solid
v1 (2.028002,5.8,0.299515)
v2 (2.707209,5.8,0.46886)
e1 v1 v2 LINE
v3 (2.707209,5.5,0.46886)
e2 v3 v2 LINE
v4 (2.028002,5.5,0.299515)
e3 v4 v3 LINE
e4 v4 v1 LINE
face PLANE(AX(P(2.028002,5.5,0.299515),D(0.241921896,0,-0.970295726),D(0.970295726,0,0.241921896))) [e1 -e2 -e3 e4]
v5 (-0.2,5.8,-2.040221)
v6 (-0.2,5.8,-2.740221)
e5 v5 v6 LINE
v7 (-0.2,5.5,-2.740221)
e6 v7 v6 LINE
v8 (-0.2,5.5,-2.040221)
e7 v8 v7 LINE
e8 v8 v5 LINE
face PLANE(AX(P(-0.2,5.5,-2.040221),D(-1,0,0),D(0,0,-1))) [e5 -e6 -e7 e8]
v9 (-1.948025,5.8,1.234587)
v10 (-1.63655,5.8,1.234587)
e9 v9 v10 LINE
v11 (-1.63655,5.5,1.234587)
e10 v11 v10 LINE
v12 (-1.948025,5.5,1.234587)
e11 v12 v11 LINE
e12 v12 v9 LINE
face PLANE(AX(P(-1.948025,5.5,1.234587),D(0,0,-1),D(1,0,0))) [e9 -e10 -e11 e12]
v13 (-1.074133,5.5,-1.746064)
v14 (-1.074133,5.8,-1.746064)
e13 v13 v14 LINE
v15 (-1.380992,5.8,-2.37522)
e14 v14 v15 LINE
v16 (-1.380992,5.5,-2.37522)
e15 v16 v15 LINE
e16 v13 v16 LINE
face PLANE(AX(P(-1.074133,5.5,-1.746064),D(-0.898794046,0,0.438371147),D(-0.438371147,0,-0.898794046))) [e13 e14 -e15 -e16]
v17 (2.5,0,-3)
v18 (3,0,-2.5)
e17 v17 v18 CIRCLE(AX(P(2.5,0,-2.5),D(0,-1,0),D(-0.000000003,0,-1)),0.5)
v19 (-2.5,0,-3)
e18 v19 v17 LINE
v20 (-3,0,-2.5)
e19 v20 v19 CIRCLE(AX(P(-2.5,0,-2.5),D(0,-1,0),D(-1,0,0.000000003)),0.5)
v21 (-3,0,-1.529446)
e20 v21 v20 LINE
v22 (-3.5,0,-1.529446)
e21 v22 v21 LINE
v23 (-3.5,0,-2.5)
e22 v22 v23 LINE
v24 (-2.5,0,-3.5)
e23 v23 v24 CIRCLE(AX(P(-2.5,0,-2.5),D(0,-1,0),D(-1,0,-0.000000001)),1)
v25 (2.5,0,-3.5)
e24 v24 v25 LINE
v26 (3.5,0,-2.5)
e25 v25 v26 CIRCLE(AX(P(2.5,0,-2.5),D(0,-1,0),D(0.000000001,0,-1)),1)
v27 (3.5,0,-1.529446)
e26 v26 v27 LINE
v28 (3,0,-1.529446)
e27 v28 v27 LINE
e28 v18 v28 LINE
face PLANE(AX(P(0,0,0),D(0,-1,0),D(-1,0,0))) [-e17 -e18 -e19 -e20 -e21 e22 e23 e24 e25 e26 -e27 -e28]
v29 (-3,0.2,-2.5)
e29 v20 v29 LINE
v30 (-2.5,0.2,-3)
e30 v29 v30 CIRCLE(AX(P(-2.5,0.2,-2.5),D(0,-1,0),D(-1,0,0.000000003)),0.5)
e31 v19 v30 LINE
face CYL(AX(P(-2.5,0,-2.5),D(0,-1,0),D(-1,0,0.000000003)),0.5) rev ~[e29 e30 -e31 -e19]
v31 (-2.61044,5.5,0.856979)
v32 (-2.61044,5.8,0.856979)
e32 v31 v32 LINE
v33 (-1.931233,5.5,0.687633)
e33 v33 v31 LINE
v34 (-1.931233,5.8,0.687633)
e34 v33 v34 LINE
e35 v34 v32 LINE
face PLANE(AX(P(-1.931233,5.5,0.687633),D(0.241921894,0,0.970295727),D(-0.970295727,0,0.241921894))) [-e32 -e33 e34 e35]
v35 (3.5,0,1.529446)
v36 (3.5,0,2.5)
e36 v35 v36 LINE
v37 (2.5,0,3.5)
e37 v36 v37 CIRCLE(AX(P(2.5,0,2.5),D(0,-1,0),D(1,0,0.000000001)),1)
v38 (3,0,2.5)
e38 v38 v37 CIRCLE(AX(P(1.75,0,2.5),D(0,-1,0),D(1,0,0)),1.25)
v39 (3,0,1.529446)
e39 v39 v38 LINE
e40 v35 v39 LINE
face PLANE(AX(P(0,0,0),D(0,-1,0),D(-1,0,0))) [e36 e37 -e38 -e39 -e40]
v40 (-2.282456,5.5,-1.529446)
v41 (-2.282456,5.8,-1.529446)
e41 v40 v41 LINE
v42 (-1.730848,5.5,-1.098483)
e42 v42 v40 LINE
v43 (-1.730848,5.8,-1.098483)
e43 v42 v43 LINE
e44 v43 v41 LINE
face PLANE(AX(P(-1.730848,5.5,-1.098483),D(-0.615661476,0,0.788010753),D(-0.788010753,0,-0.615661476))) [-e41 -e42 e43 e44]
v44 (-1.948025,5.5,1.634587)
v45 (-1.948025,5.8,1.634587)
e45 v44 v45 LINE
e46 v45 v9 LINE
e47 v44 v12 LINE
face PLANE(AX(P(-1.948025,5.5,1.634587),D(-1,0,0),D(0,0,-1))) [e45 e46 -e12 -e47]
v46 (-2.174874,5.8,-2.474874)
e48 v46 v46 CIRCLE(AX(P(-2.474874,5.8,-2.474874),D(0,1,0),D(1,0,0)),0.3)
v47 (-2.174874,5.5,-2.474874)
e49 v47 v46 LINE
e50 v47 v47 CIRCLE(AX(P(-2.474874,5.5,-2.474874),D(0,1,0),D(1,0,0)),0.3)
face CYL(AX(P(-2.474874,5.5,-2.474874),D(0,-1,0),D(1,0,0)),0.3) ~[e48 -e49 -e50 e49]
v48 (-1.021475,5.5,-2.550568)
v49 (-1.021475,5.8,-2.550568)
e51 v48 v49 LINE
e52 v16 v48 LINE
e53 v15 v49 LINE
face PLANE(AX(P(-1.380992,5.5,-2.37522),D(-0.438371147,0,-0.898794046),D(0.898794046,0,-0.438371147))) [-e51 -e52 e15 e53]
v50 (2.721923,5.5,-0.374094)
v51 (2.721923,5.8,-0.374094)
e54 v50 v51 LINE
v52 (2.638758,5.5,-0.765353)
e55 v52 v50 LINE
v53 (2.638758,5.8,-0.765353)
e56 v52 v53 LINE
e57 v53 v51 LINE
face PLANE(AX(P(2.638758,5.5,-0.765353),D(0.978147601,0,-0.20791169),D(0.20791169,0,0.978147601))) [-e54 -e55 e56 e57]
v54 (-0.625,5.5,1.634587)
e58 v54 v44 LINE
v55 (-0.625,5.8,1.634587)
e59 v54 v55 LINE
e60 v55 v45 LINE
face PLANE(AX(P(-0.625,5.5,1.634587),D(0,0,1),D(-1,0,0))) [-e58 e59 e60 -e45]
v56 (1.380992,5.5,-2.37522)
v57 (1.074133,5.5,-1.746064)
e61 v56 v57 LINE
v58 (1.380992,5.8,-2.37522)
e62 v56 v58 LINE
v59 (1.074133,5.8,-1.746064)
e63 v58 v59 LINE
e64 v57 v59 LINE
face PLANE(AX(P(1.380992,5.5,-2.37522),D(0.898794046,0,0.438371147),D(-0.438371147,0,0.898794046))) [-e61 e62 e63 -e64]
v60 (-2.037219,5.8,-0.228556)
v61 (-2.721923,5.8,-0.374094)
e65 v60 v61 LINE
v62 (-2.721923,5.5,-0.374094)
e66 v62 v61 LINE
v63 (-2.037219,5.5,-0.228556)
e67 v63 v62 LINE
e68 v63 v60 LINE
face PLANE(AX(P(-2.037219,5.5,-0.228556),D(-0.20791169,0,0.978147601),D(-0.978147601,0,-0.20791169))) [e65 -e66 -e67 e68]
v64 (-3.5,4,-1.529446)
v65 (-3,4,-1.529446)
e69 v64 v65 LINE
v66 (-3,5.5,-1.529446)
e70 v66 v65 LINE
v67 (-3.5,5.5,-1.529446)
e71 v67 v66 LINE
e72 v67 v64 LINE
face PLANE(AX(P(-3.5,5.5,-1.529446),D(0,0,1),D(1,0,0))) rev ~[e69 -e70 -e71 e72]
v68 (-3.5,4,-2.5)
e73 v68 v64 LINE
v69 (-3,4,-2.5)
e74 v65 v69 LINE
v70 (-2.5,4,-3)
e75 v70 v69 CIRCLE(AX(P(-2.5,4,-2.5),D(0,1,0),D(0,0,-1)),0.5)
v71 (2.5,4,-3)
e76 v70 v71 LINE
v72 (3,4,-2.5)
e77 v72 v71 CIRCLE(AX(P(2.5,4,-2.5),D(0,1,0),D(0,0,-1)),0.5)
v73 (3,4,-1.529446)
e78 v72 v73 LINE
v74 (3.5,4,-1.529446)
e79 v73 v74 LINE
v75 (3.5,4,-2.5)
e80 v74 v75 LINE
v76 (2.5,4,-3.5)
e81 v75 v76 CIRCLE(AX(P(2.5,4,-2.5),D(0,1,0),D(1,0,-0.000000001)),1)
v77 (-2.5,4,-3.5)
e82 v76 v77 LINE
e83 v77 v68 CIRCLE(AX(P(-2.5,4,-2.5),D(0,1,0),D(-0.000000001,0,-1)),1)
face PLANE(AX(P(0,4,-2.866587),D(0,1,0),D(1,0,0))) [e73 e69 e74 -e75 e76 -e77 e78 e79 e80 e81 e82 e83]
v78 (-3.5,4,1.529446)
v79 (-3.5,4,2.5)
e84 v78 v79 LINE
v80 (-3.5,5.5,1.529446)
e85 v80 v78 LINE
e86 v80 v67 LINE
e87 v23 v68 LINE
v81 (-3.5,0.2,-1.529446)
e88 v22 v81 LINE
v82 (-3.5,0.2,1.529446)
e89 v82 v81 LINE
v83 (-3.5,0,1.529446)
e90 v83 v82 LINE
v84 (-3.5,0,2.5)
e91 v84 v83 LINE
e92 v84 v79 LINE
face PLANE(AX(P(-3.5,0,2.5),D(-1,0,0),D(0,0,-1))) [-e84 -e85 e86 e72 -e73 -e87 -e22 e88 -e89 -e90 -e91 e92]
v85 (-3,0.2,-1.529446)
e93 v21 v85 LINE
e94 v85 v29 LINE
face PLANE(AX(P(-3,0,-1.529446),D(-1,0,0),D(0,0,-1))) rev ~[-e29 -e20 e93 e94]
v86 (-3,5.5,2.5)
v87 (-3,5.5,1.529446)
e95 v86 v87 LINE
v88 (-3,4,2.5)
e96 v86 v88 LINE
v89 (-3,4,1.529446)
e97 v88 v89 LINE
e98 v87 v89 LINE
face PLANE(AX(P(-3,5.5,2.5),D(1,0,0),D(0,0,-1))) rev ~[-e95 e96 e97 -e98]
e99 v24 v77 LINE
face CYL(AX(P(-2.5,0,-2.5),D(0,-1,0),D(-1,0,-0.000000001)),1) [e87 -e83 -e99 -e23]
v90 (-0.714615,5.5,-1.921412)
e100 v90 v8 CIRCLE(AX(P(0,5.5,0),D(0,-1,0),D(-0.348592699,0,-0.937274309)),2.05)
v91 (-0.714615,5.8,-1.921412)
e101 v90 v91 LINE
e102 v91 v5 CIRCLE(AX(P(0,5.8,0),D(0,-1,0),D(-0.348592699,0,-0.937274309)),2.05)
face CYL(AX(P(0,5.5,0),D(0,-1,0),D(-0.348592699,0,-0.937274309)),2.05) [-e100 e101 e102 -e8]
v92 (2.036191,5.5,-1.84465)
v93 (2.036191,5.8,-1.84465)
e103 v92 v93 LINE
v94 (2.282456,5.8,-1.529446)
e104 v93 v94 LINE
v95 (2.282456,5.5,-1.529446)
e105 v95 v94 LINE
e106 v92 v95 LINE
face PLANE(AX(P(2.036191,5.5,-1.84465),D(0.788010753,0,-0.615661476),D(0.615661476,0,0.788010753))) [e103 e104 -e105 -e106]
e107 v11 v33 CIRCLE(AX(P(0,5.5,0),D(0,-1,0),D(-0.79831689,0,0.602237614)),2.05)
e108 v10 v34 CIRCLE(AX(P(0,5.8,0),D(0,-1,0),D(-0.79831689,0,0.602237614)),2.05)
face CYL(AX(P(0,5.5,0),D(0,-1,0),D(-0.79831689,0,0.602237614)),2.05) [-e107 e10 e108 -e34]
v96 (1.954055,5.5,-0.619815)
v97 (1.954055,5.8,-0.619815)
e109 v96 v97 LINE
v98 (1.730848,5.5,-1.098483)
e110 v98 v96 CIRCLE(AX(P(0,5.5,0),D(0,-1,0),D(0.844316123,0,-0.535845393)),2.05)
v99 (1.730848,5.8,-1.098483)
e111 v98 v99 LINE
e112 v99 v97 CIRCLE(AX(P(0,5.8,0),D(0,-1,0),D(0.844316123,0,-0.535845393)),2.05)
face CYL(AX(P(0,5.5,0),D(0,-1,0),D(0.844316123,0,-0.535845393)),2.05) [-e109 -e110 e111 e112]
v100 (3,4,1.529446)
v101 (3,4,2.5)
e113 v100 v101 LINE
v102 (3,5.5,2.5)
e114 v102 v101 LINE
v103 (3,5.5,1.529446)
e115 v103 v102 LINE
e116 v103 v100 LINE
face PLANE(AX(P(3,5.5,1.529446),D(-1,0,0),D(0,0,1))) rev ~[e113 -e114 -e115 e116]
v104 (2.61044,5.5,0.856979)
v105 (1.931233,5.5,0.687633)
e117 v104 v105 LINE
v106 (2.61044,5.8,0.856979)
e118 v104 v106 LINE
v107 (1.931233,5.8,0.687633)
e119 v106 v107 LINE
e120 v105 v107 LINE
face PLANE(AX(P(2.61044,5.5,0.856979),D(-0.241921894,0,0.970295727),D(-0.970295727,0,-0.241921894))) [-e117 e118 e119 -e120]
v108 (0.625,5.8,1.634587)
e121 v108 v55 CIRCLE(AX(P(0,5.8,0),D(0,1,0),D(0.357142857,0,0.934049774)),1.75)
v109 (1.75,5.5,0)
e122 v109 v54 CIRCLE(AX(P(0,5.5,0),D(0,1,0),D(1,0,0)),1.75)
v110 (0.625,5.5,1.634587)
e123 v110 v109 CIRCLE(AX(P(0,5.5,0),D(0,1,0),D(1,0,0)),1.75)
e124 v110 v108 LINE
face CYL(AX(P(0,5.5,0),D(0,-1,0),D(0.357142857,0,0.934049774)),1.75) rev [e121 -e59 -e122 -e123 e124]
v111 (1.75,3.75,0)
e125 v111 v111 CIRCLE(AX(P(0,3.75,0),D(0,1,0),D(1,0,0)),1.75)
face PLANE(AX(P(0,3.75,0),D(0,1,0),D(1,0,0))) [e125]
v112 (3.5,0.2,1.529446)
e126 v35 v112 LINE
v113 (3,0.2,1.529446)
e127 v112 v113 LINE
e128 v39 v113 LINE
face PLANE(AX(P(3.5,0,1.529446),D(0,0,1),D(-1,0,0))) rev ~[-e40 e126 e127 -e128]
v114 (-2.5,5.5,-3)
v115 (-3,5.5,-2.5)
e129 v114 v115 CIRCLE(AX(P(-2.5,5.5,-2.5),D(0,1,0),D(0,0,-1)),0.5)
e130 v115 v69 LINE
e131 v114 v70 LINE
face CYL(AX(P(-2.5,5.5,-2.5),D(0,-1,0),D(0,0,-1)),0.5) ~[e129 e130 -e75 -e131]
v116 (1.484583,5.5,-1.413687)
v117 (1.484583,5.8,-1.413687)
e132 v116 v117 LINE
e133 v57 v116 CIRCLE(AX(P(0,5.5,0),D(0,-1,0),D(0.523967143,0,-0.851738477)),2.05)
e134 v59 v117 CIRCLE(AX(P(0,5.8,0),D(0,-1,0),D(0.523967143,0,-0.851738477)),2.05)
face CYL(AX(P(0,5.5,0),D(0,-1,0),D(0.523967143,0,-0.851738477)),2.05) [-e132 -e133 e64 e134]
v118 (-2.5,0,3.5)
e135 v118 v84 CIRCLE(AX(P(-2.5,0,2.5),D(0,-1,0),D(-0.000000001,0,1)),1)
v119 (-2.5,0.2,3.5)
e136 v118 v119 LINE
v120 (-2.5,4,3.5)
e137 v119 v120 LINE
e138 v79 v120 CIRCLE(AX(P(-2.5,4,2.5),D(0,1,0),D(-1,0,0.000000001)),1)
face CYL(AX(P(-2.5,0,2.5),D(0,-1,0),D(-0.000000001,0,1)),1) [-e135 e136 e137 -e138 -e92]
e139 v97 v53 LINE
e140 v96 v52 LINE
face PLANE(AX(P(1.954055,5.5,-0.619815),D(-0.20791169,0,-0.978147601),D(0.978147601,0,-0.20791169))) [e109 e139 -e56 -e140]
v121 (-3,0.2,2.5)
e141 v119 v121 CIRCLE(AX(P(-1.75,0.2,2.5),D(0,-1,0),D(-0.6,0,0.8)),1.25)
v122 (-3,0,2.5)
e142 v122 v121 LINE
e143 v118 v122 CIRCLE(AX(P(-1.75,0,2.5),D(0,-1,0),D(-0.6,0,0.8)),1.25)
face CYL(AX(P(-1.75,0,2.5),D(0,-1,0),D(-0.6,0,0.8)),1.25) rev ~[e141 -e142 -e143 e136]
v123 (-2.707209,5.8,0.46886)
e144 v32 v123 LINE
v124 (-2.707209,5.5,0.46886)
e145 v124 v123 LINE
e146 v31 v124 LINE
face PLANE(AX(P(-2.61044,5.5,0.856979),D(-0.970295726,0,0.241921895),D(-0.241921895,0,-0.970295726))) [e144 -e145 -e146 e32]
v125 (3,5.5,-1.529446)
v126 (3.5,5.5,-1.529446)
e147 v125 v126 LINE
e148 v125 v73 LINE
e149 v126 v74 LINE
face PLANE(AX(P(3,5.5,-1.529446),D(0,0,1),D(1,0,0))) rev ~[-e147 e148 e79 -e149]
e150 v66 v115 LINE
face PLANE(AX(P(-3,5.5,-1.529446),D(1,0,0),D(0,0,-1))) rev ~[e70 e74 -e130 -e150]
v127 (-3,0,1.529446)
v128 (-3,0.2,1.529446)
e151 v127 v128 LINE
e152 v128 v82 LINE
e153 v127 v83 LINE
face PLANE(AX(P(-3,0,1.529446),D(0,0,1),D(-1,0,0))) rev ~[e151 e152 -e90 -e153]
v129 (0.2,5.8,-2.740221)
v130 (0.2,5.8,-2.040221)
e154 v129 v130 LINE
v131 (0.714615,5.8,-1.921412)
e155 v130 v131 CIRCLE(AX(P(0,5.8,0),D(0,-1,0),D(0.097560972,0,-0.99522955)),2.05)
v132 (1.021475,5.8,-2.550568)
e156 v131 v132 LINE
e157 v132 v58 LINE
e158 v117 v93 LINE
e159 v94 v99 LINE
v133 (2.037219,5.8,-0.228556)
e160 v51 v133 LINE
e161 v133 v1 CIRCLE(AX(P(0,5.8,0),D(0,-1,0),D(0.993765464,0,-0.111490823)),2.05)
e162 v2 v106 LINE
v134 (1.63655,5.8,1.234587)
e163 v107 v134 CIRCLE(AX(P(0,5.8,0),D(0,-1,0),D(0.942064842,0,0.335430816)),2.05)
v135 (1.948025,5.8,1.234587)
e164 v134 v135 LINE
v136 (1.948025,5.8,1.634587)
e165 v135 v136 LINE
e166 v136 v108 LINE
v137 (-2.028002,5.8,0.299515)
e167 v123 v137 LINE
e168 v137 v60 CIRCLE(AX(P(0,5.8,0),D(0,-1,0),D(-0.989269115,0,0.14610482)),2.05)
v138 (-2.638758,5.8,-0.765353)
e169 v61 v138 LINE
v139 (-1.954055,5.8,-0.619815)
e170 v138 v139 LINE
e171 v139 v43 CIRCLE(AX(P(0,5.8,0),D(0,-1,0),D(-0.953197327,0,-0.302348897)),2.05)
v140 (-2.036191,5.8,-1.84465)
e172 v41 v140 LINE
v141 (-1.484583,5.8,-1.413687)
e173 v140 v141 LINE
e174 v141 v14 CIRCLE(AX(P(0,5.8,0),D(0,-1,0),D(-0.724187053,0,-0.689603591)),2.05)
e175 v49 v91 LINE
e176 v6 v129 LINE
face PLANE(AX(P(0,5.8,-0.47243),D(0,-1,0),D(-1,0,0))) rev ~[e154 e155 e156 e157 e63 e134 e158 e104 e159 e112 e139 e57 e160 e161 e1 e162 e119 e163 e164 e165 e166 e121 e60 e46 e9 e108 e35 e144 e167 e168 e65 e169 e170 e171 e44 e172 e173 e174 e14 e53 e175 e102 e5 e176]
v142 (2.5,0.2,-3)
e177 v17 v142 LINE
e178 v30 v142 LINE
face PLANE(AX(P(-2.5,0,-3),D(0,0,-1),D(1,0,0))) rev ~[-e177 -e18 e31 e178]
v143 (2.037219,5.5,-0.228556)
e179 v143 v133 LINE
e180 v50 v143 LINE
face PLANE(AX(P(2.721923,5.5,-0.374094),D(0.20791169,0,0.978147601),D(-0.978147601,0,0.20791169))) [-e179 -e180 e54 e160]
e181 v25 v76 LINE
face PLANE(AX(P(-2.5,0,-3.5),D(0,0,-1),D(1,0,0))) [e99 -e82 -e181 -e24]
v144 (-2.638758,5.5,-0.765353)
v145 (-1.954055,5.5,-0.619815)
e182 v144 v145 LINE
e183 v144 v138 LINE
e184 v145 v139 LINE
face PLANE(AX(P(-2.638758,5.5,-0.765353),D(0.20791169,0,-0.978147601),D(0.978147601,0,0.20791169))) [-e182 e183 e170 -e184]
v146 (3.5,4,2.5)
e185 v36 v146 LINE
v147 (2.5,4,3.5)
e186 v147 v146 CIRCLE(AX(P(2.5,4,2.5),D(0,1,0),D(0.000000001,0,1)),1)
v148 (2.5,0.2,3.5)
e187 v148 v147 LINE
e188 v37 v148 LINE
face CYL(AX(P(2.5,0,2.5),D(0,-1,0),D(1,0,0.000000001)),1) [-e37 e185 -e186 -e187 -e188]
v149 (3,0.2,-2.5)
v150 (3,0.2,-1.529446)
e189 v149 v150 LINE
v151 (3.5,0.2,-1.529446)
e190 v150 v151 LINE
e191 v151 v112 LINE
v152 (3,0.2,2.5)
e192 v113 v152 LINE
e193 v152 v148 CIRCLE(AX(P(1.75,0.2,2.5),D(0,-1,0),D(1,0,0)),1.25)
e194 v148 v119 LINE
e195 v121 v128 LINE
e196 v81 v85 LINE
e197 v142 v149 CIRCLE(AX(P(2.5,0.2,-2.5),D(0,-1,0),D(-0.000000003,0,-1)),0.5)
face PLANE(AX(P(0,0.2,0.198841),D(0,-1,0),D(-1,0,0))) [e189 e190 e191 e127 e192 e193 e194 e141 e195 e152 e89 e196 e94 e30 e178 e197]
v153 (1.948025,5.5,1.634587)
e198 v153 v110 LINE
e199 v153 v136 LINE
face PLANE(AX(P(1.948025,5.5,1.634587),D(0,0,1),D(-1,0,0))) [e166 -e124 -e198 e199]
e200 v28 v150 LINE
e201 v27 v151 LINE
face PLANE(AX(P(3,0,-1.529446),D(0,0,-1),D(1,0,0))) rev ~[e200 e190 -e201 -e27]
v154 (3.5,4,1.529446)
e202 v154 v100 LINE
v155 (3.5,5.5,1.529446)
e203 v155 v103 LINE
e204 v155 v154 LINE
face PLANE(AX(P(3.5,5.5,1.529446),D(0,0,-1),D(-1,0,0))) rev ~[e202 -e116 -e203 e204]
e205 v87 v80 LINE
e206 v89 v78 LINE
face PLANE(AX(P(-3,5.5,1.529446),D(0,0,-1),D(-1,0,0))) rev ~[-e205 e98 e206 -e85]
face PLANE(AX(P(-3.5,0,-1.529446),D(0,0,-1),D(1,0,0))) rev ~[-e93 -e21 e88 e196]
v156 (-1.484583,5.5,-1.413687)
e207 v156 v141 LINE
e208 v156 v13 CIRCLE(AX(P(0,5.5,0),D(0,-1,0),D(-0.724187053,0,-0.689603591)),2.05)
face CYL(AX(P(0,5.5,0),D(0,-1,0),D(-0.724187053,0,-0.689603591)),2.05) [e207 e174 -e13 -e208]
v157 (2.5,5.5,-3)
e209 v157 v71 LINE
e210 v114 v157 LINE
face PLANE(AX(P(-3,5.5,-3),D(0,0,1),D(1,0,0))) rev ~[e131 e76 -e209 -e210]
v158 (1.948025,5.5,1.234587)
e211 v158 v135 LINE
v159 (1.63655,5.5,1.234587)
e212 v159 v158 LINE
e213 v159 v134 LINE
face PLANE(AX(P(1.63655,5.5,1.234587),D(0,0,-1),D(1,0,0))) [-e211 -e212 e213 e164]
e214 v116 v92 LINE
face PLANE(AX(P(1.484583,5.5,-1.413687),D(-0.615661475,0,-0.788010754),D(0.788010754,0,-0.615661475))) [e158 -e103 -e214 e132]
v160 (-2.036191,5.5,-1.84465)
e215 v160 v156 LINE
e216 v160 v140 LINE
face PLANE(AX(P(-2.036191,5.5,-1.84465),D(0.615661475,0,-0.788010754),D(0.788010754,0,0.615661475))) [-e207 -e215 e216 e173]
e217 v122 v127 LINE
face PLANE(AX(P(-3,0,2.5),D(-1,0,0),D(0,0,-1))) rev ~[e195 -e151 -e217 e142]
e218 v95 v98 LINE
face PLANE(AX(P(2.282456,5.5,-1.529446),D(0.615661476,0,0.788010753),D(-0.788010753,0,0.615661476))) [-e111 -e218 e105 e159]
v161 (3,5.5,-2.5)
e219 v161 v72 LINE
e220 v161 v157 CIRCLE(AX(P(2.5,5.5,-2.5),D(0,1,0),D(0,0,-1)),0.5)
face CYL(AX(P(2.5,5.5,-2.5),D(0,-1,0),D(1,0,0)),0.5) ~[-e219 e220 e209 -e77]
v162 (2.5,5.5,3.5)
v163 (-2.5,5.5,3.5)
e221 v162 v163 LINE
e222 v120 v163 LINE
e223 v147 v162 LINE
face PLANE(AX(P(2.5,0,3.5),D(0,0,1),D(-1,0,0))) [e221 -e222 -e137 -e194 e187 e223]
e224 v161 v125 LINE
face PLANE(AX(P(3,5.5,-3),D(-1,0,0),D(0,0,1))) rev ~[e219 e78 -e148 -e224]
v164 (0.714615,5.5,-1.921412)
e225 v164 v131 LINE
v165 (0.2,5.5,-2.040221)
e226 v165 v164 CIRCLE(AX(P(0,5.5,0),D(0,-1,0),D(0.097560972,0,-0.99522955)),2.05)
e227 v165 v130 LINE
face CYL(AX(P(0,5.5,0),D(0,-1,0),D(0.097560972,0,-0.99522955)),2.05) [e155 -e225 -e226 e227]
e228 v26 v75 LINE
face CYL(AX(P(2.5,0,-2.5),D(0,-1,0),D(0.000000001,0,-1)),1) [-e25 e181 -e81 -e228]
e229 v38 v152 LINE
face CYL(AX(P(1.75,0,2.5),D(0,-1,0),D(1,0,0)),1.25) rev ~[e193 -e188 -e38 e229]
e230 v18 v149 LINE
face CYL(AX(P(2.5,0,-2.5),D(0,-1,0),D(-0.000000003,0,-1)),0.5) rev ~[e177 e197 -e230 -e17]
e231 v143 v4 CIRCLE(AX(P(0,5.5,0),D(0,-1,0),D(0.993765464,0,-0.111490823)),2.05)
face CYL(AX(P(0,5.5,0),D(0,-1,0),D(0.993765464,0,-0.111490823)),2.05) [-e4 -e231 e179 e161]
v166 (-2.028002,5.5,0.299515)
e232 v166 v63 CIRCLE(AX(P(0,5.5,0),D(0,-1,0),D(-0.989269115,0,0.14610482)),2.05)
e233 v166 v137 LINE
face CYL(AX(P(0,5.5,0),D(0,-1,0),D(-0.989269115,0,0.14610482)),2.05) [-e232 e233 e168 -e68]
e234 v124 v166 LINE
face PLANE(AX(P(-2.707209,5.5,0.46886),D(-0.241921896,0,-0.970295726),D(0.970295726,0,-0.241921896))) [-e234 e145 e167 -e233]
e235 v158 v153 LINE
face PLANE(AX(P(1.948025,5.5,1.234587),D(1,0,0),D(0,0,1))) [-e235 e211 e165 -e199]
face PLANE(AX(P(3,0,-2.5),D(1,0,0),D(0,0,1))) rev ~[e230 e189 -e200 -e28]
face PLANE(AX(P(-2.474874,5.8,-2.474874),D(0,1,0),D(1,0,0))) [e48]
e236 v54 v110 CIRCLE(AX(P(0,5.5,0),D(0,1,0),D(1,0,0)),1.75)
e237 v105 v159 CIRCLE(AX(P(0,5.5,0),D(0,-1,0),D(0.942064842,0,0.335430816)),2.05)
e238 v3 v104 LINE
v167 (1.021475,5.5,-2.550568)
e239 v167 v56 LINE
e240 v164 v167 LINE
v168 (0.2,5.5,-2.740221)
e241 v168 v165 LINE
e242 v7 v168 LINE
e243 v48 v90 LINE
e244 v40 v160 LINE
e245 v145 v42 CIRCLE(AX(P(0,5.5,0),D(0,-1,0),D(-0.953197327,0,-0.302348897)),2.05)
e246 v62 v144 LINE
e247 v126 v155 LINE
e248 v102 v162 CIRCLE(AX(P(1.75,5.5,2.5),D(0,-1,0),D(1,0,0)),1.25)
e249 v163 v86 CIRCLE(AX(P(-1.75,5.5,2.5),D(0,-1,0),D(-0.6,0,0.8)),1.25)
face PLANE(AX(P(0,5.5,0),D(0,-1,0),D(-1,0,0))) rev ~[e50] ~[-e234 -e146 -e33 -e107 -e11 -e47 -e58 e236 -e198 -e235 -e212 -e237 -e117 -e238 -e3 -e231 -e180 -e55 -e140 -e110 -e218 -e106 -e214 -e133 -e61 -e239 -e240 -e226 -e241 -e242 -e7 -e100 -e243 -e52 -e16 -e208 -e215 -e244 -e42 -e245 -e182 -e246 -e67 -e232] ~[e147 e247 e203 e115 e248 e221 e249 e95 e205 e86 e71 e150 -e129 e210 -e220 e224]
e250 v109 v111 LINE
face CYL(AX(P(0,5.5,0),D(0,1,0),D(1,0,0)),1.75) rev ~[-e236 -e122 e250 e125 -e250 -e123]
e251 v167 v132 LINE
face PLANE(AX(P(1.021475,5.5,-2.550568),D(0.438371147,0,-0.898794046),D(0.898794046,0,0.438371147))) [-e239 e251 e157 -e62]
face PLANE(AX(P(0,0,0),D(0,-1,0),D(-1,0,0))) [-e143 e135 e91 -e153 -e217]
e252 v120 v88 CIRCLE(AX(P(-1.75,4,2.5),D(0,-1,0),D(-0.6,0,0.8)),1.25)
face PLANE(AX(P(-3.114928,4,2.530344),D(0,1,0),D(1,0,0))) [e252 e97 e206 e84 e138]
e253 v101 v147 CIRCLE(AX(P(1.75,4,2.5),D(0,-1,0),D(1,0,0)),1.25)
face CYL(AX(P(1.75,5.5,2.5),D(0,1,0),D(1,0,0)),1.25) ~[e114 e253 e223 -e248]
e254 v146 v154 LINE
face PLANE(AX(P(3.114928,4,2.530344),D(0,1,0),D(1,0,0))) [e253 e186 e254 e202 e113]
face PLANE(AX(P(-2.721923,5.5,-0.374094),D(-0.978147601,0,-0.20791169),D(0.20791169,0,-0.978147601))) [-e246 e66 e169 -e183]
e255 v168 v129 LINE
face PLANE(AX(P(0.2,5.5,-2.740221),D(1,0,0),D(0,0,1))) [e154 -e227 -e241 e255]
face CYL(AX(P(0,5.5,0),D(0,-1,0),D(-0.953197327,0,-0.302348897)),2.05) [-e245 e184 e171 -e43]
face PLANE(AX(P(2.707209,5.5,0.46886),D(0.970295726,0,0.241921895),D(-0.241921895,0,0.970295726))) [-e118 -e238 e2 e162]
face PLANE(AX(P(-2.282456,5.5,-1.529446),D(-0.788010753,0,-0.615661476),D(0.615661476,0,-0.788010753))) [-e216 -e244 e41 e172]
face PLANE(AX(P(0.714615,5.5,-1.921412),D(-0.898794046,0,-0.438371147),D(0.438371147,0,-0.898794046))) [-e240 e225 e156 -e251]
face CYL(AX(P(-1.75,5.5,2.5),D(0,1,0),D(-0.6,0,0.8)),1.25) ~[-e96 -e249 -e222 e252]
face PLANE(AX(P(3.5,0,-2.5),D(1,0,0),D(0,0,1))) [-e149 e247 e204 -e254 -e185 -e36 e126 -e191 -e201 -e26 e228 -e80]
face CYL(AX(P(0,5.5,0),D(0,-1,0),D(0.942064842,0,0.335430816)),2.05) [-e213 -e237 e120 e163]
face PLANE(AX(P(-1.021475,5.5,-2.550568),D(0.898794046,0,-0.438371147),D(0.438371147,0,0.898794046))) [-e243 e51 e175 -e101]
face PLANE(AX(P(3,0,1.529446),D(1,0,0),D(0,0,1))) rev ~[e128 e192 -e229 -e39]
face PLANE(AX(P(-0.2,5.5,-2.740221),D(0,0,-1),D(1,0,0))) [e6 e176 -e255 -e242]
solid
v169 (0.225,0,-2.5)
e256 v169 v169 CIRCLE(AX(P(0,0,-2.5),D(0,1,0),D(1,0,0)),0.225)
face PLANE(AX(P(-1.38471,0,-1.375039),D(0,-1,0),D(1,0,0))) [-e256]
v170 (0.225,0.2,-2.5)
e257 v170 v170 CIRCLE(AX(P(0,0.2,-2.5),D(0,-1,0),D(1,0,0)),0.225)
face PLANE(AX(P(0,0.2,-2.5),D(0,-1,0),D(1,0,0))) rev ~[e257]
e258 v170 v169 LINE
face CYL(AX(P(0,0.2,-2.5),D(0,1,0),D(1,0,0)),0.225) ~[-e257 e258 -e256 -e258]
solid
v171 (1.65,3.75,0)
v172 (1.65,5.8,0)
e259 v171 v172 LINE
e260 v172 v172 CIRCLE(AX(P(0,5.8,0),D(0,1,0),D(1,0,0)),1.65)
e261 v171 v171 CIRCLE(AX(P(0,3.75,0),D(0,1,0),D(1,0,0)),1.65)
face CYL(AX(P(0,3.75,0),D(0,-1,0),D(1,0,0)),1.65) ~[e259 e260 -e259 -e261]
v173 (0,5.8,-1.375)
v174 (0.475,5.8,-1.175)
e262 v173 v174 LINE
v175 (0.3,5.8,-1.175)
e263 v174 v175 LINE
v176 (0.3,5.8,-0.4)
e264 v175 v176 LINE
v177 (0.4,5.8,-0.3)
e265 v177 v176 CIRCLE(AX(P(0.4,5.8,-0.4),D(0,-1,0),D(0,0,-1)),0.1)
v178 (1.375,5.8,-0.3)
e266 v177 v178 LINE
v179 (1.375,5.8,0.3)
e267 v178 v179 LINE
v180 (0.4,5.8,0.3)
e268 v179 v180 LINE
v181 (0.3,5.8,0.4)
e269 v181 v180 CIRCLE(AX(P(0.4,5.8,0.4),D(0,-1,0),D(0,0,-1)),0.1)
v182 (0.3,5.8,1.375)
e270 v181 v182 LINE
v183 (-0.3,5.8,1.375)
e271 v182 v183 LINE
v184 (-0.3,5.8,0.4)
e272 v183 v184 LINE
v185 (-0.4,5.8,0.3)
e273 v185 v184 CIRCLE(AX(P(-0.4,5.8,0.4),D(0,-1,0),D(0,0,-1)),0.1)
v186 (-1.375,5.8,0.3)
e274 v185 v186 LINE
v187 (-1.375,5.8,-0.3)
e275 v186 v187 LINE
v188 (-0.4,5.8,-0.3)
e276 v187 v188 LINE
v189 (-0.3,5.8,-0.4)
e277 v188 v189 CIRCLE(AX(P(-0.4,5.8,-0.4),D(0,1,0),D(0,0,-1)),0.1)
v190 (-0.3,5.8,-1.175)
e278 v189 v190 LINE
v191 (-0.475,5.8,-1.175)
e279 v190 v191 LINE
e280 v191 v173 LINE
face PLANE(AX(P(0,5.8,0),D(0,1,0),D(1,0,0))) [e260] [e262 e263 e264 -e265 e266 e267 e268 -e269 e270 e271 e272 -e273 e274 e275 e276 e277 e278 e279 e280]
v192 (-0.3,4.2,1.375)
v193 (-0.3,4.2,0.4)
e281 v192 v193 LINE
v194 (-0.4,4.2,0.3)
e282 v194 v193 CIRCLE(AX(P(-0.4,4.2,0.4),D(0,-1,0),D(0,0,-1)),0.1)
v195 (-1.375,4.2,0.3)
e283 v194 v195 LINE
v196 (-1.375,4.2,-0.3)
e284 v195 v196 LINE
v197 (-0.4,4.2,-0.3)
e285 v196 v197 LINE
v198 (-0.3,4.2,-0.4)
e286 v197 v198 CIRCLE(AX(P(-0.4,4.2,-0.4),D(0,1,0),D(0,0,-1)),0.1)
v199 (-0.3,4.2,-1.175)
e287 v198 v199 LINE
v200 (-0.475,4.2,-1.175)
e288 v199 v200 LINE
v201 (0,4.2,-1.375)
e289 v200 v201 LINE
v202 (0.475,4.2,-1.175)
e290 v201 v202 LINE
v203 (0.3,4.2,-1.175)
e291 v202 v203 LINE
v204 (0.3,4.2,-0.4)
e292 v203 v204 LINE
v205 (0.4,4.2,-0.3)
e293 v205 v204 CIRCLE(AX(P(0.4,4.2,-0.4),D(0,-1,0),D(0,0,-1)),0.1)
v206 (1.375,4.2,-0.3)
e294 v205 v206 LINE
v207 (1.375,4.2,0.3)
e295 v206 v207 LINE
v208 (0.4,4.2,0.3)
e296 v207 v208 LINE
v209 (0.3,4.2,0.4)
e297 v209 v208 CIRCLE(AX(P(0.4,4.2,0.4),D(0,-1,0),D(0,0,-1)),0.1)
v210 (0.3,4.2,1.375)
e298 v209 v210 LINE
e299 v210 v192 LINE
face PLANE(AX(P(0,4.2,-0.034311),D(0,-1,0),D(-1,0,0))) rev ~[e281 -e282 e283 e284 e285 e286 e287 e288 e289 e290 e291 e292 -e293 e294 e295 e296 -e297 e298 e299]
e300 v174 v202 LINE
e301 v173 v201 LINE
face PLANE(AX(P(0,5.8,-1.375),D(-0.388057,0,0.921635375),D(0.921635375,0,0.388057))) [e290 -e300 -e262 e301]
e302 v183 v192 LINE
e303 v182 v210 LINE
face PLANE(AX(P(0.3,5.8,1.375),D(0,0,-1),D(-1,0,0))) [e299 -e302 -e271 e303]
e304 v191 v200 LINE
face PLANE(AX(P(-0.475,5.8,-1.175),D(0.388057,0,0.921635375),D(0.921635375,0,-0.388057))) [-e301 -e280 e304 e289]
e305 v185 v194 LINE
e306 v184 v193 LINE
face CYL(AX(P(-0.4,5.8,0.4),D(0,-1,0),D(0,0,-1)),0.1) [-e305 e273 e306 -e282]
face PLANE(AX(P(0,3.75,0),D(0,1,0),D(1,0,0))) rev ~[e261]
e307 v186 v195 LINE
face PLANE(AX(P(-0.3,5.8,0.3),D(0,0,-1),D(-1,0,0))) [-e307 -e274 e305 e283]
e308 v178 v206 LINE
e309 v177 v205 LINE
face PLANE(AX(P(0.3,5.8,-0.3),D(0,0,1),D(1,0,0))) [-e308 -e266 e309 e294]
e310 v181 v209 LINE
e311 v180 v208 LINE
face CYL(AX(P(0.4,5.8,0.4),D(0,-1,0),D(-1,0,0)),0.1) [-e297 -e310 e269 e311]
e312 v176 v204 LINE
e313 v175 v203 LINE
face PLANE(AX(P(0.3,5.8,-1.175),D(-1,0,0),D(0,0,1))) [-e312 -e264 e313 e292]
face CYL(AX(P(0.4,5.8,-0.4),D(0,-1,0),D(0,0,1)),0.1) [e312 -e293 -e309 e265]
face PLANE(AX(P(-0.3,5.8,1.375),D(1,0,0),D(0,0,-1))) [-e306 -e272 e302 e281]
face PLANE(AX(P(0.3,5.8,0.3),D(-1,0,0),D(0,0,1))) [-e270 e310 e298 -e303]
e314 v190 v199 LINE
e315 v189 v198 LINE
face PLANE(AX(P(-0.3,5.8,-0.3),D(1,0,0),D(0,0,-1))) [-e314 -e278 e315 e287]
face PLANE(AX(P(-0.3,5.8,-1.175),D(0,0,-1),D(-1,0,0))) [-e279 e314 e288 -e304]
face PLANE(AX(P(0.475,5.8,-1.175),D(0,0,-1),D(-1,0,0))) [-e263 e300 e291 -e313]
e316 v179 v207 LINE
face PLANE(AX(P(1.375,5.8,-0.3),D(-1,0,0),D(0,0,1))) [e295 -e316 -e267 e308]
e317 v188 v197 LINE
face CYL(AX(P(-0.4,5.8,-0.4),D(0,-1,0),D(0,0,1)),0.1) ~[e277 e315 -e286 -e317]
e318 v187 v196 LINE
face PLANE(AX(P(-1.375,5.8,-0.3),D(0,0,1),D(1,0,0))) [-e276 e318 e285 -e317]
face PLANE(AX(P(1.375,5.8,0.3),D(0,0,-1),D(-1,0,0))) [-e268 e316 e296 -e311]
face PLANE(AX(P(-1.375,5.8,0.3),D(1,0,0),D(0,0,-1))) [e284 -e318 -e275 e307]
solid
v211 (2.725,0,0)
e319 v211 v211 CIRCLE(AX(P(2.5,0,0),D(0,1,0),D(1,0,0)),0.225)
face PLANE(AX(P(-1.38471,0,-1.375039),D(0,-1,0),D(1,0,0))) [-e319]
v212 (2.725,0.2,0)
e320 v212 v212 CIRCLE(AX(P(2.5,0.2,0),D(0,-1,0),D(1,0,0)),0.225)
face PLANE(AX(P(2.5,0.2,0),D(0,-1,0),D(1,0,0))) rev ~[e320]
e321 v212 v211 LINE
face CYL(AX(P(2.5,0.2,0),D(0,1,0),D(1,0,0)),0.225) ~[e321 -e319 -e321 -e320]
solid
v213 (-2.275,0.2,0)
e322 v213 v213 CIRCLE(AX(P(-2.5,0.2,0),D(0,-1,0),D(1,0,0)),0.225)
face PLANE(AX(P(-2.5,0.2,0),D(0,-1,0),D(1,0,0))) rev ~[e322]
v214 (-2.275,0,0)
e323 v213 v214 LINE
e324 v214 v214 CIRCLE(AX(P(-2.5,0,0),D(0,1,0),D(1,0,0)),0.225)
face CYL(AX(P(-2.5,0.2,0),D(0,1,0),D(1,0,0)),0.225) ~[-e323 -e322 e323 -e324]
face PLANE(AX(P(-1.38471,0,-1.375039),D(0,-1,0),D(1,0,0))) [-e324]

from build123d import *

# Parameters (mm, degrees)
BOSS_EXTRUDE1_DEPTH             = 5.5
SKETCH3_R                       = 1.75
CUT_EXTRUDE1_DEPTH              = 1.75
SKETCH4_R                       = 1.65
BOSS_EXTRUDE2_DEPTH             = 2.05
CUT_EXTRUDE2_DEPTH              = 1.6
FILLET1_R                       = 0.1
BOSS_EXTRUDE3_DEPTH             = 0.3
SKETCH7_R                       = 0.3
BOSS_EXTRUDE4_DEPTH             = 0.3
CUT_EXTRUDE3_DEPTH              = 1.5
FILLET2_R                       = 0.5
CUT_EXTRUDE7_DEPTH              = 0.2
SKETCH11_R                      = 0.225
BOSS_EXTRUDE6_DEPTH             = 7.2
BOSS_EXTRUDE6_2_DEPTH           = 7.2
BOSS_EXTRUDE6_3_DEPTH           = 7.2
SKIZZE2_W                       = 11.62513836
SKIZZE2_H                       = 10.386388006
SCHNITT_LINEAR_AUSTRAGEN1_DEPTH = 7


with BuildPart() as part:
    # Sketch1 → Boss-Extrude1 (new body)
    with BuildSketch(Plane(origin=(0, 0, 0), x_dir=(1, 0, 0), z_dir=(0, 1, 0))):
        with BuildLine():
            Line((2.5, -3.5), (-2.5, -3.5))
            ThreePointArc((-2.5, -3.5), (-3.207106781, -3.207106781), (-3.5, -2.5))
            Line((-3.5, -2.5), (-3.5, 2.5))
            ThreePointArc((-3.5, 2.5), (-3.207106781, 3.207106781), (-2.5, 3.5))
            Line((-2.5, 3.5), (2.5, 3.5))
            ThreePointArc((2.5, 3.5), (3.207106781, 3.207106781), (3.5, 2.5))
            Line((3.5, 2.5), (3.5, -2.5))
            ThreePointArc((3.5, -2.5), (3.207106781, -3.207106781), (2.5, -3.5))
        make_face()
    extrude(amount=BOSS_EXTRUDE1_DEPTH)

    # Sketch3 → Cut-Extrude1 (cut)
    with BuildSketch(Plane(origin=(0, 5.5, 0), x_dir=(1, 0, 0), z_dir=(0, 1, 0))):
        Circle(SKETCH3_R)
    extrude(amount=-CUT_EXTRUDE1_DEPTH, mode=Mode.SUBTRACT)

    # Sketch6 → Boss-Extrude3 (add)
    with BuildSketch(Plane(origin=(0, 5.5, 0), x_dir=(1, 0, 0), z_dir=(0, 1, 0))):
        with BuildLine():
            Line((-0.625, -1.634587104), (-1.948025053, -1.634587104))
            Line((-1.948025053, -1.634587104), (-1.948025053, -1.234587104))
            Line((-1.948025053, -1.234587104), (-1.636549627, -1.234587104))
            ThreePointArc((-1.636549627, -1.234587104), (-1.804732041, -0.972338553), (-1.931232927, -0.687633175))
            Line((-1.931232927, -0.687633175), (-2.610439935, -0.856978501))
            Line((-2.610439935, -0.856978501), (-2.707208693, -0.468860211))
            Line((-2.707208693, -0.468860211), (-2.028001685, -0.299514884))
            ThreePointArc((-2.028001685, -0.299514884), (-2.049687775, -0.035777433), (-2.0372192, 0.22855619))
            Line((-2.0372192, 0.22855619), (-2.72192252, 0.374094373))
            Line((-2.72192252, 0.374094373), (-2.638757844, 0.765353413))
            Line((-2.638757844, 0.765353413), (-1.954054524, 0.61981523))
            ThreePointArc((-1.954054524, 0.61981523), (-1.857930963, 0.866367437), (-1.730848049, 1.098483059))
            Line((-1.730848049, 1.098483059), (-2.282455576, 1.529446092))
            Line((-2.282455576, 1.529446092), (-2.036190986, 1.844650393))
            Line((-2.036190986, 1.844650393), (-1.484583459, 1.413687361))
            ThreePointArc((-1.484583459, 1.413687361), (-1.290106802, 1.593149221), (-1.074132643, 1.746063878))
            Line((-1.074132643, 1.746063878), (-1.380992446, 2.37521971))
            Line((-1.380992446, 2.37521971), (-1.021474827, 2.550568169))
            Line((-1.021474827, 2.550568169), (-0.714615024, 1.921412336))
            ThreePointArc((-0.714615024, 1.921412336), (-0.461149661, 1.997458633), (-0.2, 2.040220576))
            Line((-0.2, 2.040220576), (-0.2, 2.740220576))
            Line((-0.2, 2.740220576), (0.2, 2.740220576))
            Line((0.2, 2.740220576), (0.2, 2.040220576))
            ThreePointArc((0.2, 2.040220576), (0.461149661, 1.997458633), (0.714615024, 1.921412336))
            Line((0.714615024, 1.921412336), (1.021474827, 2.550568169))
            Line((1.021474827, 2.550568169), (1.380992446, 2.37521971))
            Line((1.380992446, 2.37521971), (1.074132643, 1.746063878))
            ThreePointArc((1.074132643, 1.746063878), (1.290106802, 1.593149221), (1.484583459, 1.413687361))
            Line((1.484583459, 1.413687361), (2.036190986, 1.844650393))
            Line((2.036190986, 1.844650393), (2.282455576, 1.529446092))
            Line((2.282455576, 1.529446092), (1.730848049, 1.098483059))
            ThreePointArc((1.730848049, 1.098483059), (1.857930963, 0.866367437), (1.954054524, 0.61981523))
            Line((1.954054524, 0.61981523), (2.638757844, 0.765353413))
            Line((2.638757844, 0.765353413), (2.72192252, 0.374094373))
            Line((2.72192252, 0.374094373), (2.0372192, 0.22855619))
            ThreePointArc((2.0372192, 0.22855619), (2.049687775, -0.035777433), (2.028001685, -0.299514884))
            Line((2.028001685, -0.299514884), (2.707208693, -0.468860211))
            Line((2.707208693, -0.468860211), (2.610439935, -0.856978501))
            Line((2.610439935, -0.856978501), (1.931232927, -0.687633175))
            ThreePointArc((1.931232927, -0.687633175), (1.804732041, -0.972338553), (1.636549627, -1.234587104))
            Line((1.636549627, -1.234587104), (1.948025053, -1.234587104))
            Line((1.948025053, -1.234587104), (1.948025053, -1.634587104))
            Line((1.948025053, -1.634587104), (0.625, -1.634587104))
            ThreePointArc((0.625, -1.634587104), (0, 1.75), (-0.625, -1.634587104))
        make_face()
    extrude(amount=BOSS_EXTRUDE3_DEPTH)

    # Sketch7 → Boss-Extrude4 (add)
    with BuildSketch(Plane(origin=(0, 5.5, 0), x_dir=(1, 0, 0), z_dir=(0, 1, 0))):
        with Locations((-2.474873734, 2.474873734)):
            Circle(SKETCH7_R)
    extrude(amount=BOSS_EXTRUDE4_DEPTH)

    # Sketch2 → Cut-Extrude3 (cut)
    with BuildSketch(Plane(origin=(0, 5.5, 0), x_dir=(1, 0, 0), z_dir=(0, 1, 0))):
        with BuildLine():
            ThreePointArc((-3.5, -2.5), (-3.207106781, -3.207106781), (-2.5, -3.5))
            ThreePointArc((-2.5, -3.5), (-2.868033989, -3.059016994), (-3, -2.5))
            Line((-3, -2.5), (-3, -1.529446092))
            Line((-3, -1.529446092), (-3.5, -1.529446092))
            Line((-3.5, -1.529446092), (-3.5, -2.5))
        make_face()
        with BuildLine():
            ThreePointArc((2.5, -3.5), (3.207106781, -3.207106781), (3.5, -2.5))
            Line((3.5, -2.5), (3.5, -1.529446092))
            Line((3.5, -1.529446092), (3, -1.529446092))
            Line((3, -1.529446092), (3, -2.5))
            ThreePointArc((3, -2.5), (2.868033989, -3.059016994), (2.5, -3.5))
        make_face()
        with BuildLine():
            Line((3, 1.529446092), (3.5, 1.529446092))
            Line((3.5, 1.529446092), (3.5, 2.5))
            ThreePointArc((3.5, 2.5), (3.207106781, 3.207106781), (2.5, 3.5))
            Line((2.5, 3.5), (-2.5, 3.5))
            ThreePointArc((-2.5, 3.5), (-3.207106781, 3.207106781), (-3.5, 2.5))
            Line((-3.5, 2.5), (-3.5, 1.529446092))
            Line((-3.5, 1.529446092), (-3, 1.529446092))
            Line((-3, 1.529446092), (-3, 3))
            Line((-3, 3), (3, 3))
            Line((3, 3), (3, 1.529446092))
        make_face()
    extrude(amount=-CUT_EXTRUDE3_DEPTH, mode=Mode.SUBTRACT)

    # Fillet2
    fillet2_edges = [part.edges().sort_by_distance(p)[0] for p in [
        (3, 4.75, -3),
        (-3, 4.75, -3),
    ]]
    fillet(fillet2_edges, radius=FILLET2_R)

    # Sketch10 → Cut-Extrude7 (cut)
    with BuildSketch(Plane(origin=(0, 0, 0), x_dir=(1, 0, 0), z_dir=(0, 1, 0))):
        with BuildLine():
            Line((3, 2.5), (3, 1.529446092))
            Line((3, 1.529446092), (3.5, 1.529446092))
            Line((3.5, 1.529446092), (3.5, -1.529446092))
            Line((3.5, -1.529446092), (3, -1.529446092))
            Line((3, -1.529446092), (3, -2.5))
            ThreePointArc((3, -2.5), (2.868033989, -3.059016994), (2.5, -3.5))
            Line((2.5, -3.5), (-2.5, -3.5))
            ThreePointArc((-2.5, -3.5), (-2.868033989, -3.059016994), (-3, -2.5))
            Line((-3, -2.5), (-3, -1.529446092))
            Line((-3, -1.529446092), (-3.5, -1.529446092))
            Line((-3.5, -1.529446092), (-3.5, 1.529446092))
            Line((-3.5, 1.529446092), (-3, 1.529446092))
            Line((-3, 1.529446092), (-3, 2.5))
            ThreePointArc((-3, 2.5), (-2.853553391, 2.853553391), (-2.5, 3))
            Line((-2.5, 3), (2.5, 3))
            ThreePointArc((2.5, 3), (2.853553391, 2.853553391), (3, 2.5))
        make_face()
    extrude(amount=CUT_EXTRUDE7_DEPTH, mode=Mode.SUBTRACT)


with BuildPart() as body_2:
    # Sketch4 → Boss-Extrude2 (new body)
    with BuildSketch(Plane(origin=(0, 3.75, 0), x_dir=(1, 0, 0), z_dir=(0, 1, 0))):
        Circle(SKETCH4_R)
    extrude(amount=BOSS_EXTRUDE2_DEPTH)

    # Sketch5 → Cut-Extrude2 (cut)
    with BuildSketch(Plane(origin=(0, 5.8, 0), x_dir=(1, 0, 0), z_dir=(0, 1, 0))):
        Polygon((-0.3, 0.3), (-0.3, 1.175), (-0.475, 1.175), (0, 1.375), (0.475, 1.175), (0.3, 1.175), (0.3, 0.3), (1.375, 0.3), (1.375, -0.3), (0.3, -0.3), (0.3, -1.375), (-0.3, -1.375), (-0.3, -0.3), (-1.375, -0.3), (-1.375, 0.3), align=None)
    extrude(amount=-CUT_EXTRUDE2_DEPTH, mode=Mode.SUBTRACT)

    # Fillet1
    fillet1_edges = [body_2.edges().sort_by_distance(p)[0] for p in [
        (-0.3, 5, -0.3),
        (0.3, 5, -0.3),
        (0.3, 5, 0.3),
        (-0.3, 5, 0.3),
    ]]
    fillet(fillet1_edges, radius=FILLET1_R)


with BuildPart() as body_3:
    # Sketch11 → Boss-Extrude6 (new body)
    with BuildSketch(Plane.XZ.offset(-0.2)):
        with Locations((2.5, 0)):
            Circle(SKETCH11_R)
    extrude(amount=BOSS_EXTRUDE6_DEPTH)


with BuildPart() as body_4:
    # Sketch11 → Boss-Extrude6 2 (new body)
    with BuildSketch(Plane.XZ.offset(-0.2)):
        with Locations((0, -2.5)):
            Circle(SKETCH11_R)
    extrude(amount=BOSS_EXTRUDE6_2_DEPTH)


with BuildPart() as body_5:
    # Sketch11 → Boss-Extrude6 3 (new body)
    with BuildSketch(Plane.XZ.offset(-0.2)):
        with Locations((-2.5, 0)):
            Circle(SKETCH11_R)
    extrude(amount=BOSS_EXTRUDE6_3_DEPTH)


with BuildPart() as schnitt_linear_austragen1_tool:
    # Skizze2 → Schnitt-Linear austragen1 (new body)
    with BuildSketch(Plane.XZ.offset(7)):
        with Locations((-1.384709973, -1.375039125)):
            Rectangle(SKIZZE2_W, SKIZZE2_H)
    extrude(amount=-SCHNITT_LINEAR_AUSTRAGEN1_DEPTH)


with BuildPart() as body_3_1:
    add(body_3.part)

    # Schnitt-Linear austragen1: cut by schnitt_linear_austragen1_tool
    add(schnitt_linear_austragen1_tool.part, mode=Mode.SUBTRACT)


with BuildPart() as body_4_1:
    add(body_4.part)

    # Schnitt-Linear austragen1: cut by schnitt_linear_austragen1_tool
    add(schnitt_linear_austragen1_tool.part, mode=Mode.SUBTRACT)


with BuildPart() as body_5_1:
    add(body_5.part)

    # Schnitt-Linear austragen1: cut by schnitt_linear_austragen1_tool
    add(schnitt_linear_austragen1_tool.part, mode=Mode.SUBTRACT)


solid = Compound([part.part, body_2.part, body_3_1.part, body_4_1.part, body_5_1.part])
